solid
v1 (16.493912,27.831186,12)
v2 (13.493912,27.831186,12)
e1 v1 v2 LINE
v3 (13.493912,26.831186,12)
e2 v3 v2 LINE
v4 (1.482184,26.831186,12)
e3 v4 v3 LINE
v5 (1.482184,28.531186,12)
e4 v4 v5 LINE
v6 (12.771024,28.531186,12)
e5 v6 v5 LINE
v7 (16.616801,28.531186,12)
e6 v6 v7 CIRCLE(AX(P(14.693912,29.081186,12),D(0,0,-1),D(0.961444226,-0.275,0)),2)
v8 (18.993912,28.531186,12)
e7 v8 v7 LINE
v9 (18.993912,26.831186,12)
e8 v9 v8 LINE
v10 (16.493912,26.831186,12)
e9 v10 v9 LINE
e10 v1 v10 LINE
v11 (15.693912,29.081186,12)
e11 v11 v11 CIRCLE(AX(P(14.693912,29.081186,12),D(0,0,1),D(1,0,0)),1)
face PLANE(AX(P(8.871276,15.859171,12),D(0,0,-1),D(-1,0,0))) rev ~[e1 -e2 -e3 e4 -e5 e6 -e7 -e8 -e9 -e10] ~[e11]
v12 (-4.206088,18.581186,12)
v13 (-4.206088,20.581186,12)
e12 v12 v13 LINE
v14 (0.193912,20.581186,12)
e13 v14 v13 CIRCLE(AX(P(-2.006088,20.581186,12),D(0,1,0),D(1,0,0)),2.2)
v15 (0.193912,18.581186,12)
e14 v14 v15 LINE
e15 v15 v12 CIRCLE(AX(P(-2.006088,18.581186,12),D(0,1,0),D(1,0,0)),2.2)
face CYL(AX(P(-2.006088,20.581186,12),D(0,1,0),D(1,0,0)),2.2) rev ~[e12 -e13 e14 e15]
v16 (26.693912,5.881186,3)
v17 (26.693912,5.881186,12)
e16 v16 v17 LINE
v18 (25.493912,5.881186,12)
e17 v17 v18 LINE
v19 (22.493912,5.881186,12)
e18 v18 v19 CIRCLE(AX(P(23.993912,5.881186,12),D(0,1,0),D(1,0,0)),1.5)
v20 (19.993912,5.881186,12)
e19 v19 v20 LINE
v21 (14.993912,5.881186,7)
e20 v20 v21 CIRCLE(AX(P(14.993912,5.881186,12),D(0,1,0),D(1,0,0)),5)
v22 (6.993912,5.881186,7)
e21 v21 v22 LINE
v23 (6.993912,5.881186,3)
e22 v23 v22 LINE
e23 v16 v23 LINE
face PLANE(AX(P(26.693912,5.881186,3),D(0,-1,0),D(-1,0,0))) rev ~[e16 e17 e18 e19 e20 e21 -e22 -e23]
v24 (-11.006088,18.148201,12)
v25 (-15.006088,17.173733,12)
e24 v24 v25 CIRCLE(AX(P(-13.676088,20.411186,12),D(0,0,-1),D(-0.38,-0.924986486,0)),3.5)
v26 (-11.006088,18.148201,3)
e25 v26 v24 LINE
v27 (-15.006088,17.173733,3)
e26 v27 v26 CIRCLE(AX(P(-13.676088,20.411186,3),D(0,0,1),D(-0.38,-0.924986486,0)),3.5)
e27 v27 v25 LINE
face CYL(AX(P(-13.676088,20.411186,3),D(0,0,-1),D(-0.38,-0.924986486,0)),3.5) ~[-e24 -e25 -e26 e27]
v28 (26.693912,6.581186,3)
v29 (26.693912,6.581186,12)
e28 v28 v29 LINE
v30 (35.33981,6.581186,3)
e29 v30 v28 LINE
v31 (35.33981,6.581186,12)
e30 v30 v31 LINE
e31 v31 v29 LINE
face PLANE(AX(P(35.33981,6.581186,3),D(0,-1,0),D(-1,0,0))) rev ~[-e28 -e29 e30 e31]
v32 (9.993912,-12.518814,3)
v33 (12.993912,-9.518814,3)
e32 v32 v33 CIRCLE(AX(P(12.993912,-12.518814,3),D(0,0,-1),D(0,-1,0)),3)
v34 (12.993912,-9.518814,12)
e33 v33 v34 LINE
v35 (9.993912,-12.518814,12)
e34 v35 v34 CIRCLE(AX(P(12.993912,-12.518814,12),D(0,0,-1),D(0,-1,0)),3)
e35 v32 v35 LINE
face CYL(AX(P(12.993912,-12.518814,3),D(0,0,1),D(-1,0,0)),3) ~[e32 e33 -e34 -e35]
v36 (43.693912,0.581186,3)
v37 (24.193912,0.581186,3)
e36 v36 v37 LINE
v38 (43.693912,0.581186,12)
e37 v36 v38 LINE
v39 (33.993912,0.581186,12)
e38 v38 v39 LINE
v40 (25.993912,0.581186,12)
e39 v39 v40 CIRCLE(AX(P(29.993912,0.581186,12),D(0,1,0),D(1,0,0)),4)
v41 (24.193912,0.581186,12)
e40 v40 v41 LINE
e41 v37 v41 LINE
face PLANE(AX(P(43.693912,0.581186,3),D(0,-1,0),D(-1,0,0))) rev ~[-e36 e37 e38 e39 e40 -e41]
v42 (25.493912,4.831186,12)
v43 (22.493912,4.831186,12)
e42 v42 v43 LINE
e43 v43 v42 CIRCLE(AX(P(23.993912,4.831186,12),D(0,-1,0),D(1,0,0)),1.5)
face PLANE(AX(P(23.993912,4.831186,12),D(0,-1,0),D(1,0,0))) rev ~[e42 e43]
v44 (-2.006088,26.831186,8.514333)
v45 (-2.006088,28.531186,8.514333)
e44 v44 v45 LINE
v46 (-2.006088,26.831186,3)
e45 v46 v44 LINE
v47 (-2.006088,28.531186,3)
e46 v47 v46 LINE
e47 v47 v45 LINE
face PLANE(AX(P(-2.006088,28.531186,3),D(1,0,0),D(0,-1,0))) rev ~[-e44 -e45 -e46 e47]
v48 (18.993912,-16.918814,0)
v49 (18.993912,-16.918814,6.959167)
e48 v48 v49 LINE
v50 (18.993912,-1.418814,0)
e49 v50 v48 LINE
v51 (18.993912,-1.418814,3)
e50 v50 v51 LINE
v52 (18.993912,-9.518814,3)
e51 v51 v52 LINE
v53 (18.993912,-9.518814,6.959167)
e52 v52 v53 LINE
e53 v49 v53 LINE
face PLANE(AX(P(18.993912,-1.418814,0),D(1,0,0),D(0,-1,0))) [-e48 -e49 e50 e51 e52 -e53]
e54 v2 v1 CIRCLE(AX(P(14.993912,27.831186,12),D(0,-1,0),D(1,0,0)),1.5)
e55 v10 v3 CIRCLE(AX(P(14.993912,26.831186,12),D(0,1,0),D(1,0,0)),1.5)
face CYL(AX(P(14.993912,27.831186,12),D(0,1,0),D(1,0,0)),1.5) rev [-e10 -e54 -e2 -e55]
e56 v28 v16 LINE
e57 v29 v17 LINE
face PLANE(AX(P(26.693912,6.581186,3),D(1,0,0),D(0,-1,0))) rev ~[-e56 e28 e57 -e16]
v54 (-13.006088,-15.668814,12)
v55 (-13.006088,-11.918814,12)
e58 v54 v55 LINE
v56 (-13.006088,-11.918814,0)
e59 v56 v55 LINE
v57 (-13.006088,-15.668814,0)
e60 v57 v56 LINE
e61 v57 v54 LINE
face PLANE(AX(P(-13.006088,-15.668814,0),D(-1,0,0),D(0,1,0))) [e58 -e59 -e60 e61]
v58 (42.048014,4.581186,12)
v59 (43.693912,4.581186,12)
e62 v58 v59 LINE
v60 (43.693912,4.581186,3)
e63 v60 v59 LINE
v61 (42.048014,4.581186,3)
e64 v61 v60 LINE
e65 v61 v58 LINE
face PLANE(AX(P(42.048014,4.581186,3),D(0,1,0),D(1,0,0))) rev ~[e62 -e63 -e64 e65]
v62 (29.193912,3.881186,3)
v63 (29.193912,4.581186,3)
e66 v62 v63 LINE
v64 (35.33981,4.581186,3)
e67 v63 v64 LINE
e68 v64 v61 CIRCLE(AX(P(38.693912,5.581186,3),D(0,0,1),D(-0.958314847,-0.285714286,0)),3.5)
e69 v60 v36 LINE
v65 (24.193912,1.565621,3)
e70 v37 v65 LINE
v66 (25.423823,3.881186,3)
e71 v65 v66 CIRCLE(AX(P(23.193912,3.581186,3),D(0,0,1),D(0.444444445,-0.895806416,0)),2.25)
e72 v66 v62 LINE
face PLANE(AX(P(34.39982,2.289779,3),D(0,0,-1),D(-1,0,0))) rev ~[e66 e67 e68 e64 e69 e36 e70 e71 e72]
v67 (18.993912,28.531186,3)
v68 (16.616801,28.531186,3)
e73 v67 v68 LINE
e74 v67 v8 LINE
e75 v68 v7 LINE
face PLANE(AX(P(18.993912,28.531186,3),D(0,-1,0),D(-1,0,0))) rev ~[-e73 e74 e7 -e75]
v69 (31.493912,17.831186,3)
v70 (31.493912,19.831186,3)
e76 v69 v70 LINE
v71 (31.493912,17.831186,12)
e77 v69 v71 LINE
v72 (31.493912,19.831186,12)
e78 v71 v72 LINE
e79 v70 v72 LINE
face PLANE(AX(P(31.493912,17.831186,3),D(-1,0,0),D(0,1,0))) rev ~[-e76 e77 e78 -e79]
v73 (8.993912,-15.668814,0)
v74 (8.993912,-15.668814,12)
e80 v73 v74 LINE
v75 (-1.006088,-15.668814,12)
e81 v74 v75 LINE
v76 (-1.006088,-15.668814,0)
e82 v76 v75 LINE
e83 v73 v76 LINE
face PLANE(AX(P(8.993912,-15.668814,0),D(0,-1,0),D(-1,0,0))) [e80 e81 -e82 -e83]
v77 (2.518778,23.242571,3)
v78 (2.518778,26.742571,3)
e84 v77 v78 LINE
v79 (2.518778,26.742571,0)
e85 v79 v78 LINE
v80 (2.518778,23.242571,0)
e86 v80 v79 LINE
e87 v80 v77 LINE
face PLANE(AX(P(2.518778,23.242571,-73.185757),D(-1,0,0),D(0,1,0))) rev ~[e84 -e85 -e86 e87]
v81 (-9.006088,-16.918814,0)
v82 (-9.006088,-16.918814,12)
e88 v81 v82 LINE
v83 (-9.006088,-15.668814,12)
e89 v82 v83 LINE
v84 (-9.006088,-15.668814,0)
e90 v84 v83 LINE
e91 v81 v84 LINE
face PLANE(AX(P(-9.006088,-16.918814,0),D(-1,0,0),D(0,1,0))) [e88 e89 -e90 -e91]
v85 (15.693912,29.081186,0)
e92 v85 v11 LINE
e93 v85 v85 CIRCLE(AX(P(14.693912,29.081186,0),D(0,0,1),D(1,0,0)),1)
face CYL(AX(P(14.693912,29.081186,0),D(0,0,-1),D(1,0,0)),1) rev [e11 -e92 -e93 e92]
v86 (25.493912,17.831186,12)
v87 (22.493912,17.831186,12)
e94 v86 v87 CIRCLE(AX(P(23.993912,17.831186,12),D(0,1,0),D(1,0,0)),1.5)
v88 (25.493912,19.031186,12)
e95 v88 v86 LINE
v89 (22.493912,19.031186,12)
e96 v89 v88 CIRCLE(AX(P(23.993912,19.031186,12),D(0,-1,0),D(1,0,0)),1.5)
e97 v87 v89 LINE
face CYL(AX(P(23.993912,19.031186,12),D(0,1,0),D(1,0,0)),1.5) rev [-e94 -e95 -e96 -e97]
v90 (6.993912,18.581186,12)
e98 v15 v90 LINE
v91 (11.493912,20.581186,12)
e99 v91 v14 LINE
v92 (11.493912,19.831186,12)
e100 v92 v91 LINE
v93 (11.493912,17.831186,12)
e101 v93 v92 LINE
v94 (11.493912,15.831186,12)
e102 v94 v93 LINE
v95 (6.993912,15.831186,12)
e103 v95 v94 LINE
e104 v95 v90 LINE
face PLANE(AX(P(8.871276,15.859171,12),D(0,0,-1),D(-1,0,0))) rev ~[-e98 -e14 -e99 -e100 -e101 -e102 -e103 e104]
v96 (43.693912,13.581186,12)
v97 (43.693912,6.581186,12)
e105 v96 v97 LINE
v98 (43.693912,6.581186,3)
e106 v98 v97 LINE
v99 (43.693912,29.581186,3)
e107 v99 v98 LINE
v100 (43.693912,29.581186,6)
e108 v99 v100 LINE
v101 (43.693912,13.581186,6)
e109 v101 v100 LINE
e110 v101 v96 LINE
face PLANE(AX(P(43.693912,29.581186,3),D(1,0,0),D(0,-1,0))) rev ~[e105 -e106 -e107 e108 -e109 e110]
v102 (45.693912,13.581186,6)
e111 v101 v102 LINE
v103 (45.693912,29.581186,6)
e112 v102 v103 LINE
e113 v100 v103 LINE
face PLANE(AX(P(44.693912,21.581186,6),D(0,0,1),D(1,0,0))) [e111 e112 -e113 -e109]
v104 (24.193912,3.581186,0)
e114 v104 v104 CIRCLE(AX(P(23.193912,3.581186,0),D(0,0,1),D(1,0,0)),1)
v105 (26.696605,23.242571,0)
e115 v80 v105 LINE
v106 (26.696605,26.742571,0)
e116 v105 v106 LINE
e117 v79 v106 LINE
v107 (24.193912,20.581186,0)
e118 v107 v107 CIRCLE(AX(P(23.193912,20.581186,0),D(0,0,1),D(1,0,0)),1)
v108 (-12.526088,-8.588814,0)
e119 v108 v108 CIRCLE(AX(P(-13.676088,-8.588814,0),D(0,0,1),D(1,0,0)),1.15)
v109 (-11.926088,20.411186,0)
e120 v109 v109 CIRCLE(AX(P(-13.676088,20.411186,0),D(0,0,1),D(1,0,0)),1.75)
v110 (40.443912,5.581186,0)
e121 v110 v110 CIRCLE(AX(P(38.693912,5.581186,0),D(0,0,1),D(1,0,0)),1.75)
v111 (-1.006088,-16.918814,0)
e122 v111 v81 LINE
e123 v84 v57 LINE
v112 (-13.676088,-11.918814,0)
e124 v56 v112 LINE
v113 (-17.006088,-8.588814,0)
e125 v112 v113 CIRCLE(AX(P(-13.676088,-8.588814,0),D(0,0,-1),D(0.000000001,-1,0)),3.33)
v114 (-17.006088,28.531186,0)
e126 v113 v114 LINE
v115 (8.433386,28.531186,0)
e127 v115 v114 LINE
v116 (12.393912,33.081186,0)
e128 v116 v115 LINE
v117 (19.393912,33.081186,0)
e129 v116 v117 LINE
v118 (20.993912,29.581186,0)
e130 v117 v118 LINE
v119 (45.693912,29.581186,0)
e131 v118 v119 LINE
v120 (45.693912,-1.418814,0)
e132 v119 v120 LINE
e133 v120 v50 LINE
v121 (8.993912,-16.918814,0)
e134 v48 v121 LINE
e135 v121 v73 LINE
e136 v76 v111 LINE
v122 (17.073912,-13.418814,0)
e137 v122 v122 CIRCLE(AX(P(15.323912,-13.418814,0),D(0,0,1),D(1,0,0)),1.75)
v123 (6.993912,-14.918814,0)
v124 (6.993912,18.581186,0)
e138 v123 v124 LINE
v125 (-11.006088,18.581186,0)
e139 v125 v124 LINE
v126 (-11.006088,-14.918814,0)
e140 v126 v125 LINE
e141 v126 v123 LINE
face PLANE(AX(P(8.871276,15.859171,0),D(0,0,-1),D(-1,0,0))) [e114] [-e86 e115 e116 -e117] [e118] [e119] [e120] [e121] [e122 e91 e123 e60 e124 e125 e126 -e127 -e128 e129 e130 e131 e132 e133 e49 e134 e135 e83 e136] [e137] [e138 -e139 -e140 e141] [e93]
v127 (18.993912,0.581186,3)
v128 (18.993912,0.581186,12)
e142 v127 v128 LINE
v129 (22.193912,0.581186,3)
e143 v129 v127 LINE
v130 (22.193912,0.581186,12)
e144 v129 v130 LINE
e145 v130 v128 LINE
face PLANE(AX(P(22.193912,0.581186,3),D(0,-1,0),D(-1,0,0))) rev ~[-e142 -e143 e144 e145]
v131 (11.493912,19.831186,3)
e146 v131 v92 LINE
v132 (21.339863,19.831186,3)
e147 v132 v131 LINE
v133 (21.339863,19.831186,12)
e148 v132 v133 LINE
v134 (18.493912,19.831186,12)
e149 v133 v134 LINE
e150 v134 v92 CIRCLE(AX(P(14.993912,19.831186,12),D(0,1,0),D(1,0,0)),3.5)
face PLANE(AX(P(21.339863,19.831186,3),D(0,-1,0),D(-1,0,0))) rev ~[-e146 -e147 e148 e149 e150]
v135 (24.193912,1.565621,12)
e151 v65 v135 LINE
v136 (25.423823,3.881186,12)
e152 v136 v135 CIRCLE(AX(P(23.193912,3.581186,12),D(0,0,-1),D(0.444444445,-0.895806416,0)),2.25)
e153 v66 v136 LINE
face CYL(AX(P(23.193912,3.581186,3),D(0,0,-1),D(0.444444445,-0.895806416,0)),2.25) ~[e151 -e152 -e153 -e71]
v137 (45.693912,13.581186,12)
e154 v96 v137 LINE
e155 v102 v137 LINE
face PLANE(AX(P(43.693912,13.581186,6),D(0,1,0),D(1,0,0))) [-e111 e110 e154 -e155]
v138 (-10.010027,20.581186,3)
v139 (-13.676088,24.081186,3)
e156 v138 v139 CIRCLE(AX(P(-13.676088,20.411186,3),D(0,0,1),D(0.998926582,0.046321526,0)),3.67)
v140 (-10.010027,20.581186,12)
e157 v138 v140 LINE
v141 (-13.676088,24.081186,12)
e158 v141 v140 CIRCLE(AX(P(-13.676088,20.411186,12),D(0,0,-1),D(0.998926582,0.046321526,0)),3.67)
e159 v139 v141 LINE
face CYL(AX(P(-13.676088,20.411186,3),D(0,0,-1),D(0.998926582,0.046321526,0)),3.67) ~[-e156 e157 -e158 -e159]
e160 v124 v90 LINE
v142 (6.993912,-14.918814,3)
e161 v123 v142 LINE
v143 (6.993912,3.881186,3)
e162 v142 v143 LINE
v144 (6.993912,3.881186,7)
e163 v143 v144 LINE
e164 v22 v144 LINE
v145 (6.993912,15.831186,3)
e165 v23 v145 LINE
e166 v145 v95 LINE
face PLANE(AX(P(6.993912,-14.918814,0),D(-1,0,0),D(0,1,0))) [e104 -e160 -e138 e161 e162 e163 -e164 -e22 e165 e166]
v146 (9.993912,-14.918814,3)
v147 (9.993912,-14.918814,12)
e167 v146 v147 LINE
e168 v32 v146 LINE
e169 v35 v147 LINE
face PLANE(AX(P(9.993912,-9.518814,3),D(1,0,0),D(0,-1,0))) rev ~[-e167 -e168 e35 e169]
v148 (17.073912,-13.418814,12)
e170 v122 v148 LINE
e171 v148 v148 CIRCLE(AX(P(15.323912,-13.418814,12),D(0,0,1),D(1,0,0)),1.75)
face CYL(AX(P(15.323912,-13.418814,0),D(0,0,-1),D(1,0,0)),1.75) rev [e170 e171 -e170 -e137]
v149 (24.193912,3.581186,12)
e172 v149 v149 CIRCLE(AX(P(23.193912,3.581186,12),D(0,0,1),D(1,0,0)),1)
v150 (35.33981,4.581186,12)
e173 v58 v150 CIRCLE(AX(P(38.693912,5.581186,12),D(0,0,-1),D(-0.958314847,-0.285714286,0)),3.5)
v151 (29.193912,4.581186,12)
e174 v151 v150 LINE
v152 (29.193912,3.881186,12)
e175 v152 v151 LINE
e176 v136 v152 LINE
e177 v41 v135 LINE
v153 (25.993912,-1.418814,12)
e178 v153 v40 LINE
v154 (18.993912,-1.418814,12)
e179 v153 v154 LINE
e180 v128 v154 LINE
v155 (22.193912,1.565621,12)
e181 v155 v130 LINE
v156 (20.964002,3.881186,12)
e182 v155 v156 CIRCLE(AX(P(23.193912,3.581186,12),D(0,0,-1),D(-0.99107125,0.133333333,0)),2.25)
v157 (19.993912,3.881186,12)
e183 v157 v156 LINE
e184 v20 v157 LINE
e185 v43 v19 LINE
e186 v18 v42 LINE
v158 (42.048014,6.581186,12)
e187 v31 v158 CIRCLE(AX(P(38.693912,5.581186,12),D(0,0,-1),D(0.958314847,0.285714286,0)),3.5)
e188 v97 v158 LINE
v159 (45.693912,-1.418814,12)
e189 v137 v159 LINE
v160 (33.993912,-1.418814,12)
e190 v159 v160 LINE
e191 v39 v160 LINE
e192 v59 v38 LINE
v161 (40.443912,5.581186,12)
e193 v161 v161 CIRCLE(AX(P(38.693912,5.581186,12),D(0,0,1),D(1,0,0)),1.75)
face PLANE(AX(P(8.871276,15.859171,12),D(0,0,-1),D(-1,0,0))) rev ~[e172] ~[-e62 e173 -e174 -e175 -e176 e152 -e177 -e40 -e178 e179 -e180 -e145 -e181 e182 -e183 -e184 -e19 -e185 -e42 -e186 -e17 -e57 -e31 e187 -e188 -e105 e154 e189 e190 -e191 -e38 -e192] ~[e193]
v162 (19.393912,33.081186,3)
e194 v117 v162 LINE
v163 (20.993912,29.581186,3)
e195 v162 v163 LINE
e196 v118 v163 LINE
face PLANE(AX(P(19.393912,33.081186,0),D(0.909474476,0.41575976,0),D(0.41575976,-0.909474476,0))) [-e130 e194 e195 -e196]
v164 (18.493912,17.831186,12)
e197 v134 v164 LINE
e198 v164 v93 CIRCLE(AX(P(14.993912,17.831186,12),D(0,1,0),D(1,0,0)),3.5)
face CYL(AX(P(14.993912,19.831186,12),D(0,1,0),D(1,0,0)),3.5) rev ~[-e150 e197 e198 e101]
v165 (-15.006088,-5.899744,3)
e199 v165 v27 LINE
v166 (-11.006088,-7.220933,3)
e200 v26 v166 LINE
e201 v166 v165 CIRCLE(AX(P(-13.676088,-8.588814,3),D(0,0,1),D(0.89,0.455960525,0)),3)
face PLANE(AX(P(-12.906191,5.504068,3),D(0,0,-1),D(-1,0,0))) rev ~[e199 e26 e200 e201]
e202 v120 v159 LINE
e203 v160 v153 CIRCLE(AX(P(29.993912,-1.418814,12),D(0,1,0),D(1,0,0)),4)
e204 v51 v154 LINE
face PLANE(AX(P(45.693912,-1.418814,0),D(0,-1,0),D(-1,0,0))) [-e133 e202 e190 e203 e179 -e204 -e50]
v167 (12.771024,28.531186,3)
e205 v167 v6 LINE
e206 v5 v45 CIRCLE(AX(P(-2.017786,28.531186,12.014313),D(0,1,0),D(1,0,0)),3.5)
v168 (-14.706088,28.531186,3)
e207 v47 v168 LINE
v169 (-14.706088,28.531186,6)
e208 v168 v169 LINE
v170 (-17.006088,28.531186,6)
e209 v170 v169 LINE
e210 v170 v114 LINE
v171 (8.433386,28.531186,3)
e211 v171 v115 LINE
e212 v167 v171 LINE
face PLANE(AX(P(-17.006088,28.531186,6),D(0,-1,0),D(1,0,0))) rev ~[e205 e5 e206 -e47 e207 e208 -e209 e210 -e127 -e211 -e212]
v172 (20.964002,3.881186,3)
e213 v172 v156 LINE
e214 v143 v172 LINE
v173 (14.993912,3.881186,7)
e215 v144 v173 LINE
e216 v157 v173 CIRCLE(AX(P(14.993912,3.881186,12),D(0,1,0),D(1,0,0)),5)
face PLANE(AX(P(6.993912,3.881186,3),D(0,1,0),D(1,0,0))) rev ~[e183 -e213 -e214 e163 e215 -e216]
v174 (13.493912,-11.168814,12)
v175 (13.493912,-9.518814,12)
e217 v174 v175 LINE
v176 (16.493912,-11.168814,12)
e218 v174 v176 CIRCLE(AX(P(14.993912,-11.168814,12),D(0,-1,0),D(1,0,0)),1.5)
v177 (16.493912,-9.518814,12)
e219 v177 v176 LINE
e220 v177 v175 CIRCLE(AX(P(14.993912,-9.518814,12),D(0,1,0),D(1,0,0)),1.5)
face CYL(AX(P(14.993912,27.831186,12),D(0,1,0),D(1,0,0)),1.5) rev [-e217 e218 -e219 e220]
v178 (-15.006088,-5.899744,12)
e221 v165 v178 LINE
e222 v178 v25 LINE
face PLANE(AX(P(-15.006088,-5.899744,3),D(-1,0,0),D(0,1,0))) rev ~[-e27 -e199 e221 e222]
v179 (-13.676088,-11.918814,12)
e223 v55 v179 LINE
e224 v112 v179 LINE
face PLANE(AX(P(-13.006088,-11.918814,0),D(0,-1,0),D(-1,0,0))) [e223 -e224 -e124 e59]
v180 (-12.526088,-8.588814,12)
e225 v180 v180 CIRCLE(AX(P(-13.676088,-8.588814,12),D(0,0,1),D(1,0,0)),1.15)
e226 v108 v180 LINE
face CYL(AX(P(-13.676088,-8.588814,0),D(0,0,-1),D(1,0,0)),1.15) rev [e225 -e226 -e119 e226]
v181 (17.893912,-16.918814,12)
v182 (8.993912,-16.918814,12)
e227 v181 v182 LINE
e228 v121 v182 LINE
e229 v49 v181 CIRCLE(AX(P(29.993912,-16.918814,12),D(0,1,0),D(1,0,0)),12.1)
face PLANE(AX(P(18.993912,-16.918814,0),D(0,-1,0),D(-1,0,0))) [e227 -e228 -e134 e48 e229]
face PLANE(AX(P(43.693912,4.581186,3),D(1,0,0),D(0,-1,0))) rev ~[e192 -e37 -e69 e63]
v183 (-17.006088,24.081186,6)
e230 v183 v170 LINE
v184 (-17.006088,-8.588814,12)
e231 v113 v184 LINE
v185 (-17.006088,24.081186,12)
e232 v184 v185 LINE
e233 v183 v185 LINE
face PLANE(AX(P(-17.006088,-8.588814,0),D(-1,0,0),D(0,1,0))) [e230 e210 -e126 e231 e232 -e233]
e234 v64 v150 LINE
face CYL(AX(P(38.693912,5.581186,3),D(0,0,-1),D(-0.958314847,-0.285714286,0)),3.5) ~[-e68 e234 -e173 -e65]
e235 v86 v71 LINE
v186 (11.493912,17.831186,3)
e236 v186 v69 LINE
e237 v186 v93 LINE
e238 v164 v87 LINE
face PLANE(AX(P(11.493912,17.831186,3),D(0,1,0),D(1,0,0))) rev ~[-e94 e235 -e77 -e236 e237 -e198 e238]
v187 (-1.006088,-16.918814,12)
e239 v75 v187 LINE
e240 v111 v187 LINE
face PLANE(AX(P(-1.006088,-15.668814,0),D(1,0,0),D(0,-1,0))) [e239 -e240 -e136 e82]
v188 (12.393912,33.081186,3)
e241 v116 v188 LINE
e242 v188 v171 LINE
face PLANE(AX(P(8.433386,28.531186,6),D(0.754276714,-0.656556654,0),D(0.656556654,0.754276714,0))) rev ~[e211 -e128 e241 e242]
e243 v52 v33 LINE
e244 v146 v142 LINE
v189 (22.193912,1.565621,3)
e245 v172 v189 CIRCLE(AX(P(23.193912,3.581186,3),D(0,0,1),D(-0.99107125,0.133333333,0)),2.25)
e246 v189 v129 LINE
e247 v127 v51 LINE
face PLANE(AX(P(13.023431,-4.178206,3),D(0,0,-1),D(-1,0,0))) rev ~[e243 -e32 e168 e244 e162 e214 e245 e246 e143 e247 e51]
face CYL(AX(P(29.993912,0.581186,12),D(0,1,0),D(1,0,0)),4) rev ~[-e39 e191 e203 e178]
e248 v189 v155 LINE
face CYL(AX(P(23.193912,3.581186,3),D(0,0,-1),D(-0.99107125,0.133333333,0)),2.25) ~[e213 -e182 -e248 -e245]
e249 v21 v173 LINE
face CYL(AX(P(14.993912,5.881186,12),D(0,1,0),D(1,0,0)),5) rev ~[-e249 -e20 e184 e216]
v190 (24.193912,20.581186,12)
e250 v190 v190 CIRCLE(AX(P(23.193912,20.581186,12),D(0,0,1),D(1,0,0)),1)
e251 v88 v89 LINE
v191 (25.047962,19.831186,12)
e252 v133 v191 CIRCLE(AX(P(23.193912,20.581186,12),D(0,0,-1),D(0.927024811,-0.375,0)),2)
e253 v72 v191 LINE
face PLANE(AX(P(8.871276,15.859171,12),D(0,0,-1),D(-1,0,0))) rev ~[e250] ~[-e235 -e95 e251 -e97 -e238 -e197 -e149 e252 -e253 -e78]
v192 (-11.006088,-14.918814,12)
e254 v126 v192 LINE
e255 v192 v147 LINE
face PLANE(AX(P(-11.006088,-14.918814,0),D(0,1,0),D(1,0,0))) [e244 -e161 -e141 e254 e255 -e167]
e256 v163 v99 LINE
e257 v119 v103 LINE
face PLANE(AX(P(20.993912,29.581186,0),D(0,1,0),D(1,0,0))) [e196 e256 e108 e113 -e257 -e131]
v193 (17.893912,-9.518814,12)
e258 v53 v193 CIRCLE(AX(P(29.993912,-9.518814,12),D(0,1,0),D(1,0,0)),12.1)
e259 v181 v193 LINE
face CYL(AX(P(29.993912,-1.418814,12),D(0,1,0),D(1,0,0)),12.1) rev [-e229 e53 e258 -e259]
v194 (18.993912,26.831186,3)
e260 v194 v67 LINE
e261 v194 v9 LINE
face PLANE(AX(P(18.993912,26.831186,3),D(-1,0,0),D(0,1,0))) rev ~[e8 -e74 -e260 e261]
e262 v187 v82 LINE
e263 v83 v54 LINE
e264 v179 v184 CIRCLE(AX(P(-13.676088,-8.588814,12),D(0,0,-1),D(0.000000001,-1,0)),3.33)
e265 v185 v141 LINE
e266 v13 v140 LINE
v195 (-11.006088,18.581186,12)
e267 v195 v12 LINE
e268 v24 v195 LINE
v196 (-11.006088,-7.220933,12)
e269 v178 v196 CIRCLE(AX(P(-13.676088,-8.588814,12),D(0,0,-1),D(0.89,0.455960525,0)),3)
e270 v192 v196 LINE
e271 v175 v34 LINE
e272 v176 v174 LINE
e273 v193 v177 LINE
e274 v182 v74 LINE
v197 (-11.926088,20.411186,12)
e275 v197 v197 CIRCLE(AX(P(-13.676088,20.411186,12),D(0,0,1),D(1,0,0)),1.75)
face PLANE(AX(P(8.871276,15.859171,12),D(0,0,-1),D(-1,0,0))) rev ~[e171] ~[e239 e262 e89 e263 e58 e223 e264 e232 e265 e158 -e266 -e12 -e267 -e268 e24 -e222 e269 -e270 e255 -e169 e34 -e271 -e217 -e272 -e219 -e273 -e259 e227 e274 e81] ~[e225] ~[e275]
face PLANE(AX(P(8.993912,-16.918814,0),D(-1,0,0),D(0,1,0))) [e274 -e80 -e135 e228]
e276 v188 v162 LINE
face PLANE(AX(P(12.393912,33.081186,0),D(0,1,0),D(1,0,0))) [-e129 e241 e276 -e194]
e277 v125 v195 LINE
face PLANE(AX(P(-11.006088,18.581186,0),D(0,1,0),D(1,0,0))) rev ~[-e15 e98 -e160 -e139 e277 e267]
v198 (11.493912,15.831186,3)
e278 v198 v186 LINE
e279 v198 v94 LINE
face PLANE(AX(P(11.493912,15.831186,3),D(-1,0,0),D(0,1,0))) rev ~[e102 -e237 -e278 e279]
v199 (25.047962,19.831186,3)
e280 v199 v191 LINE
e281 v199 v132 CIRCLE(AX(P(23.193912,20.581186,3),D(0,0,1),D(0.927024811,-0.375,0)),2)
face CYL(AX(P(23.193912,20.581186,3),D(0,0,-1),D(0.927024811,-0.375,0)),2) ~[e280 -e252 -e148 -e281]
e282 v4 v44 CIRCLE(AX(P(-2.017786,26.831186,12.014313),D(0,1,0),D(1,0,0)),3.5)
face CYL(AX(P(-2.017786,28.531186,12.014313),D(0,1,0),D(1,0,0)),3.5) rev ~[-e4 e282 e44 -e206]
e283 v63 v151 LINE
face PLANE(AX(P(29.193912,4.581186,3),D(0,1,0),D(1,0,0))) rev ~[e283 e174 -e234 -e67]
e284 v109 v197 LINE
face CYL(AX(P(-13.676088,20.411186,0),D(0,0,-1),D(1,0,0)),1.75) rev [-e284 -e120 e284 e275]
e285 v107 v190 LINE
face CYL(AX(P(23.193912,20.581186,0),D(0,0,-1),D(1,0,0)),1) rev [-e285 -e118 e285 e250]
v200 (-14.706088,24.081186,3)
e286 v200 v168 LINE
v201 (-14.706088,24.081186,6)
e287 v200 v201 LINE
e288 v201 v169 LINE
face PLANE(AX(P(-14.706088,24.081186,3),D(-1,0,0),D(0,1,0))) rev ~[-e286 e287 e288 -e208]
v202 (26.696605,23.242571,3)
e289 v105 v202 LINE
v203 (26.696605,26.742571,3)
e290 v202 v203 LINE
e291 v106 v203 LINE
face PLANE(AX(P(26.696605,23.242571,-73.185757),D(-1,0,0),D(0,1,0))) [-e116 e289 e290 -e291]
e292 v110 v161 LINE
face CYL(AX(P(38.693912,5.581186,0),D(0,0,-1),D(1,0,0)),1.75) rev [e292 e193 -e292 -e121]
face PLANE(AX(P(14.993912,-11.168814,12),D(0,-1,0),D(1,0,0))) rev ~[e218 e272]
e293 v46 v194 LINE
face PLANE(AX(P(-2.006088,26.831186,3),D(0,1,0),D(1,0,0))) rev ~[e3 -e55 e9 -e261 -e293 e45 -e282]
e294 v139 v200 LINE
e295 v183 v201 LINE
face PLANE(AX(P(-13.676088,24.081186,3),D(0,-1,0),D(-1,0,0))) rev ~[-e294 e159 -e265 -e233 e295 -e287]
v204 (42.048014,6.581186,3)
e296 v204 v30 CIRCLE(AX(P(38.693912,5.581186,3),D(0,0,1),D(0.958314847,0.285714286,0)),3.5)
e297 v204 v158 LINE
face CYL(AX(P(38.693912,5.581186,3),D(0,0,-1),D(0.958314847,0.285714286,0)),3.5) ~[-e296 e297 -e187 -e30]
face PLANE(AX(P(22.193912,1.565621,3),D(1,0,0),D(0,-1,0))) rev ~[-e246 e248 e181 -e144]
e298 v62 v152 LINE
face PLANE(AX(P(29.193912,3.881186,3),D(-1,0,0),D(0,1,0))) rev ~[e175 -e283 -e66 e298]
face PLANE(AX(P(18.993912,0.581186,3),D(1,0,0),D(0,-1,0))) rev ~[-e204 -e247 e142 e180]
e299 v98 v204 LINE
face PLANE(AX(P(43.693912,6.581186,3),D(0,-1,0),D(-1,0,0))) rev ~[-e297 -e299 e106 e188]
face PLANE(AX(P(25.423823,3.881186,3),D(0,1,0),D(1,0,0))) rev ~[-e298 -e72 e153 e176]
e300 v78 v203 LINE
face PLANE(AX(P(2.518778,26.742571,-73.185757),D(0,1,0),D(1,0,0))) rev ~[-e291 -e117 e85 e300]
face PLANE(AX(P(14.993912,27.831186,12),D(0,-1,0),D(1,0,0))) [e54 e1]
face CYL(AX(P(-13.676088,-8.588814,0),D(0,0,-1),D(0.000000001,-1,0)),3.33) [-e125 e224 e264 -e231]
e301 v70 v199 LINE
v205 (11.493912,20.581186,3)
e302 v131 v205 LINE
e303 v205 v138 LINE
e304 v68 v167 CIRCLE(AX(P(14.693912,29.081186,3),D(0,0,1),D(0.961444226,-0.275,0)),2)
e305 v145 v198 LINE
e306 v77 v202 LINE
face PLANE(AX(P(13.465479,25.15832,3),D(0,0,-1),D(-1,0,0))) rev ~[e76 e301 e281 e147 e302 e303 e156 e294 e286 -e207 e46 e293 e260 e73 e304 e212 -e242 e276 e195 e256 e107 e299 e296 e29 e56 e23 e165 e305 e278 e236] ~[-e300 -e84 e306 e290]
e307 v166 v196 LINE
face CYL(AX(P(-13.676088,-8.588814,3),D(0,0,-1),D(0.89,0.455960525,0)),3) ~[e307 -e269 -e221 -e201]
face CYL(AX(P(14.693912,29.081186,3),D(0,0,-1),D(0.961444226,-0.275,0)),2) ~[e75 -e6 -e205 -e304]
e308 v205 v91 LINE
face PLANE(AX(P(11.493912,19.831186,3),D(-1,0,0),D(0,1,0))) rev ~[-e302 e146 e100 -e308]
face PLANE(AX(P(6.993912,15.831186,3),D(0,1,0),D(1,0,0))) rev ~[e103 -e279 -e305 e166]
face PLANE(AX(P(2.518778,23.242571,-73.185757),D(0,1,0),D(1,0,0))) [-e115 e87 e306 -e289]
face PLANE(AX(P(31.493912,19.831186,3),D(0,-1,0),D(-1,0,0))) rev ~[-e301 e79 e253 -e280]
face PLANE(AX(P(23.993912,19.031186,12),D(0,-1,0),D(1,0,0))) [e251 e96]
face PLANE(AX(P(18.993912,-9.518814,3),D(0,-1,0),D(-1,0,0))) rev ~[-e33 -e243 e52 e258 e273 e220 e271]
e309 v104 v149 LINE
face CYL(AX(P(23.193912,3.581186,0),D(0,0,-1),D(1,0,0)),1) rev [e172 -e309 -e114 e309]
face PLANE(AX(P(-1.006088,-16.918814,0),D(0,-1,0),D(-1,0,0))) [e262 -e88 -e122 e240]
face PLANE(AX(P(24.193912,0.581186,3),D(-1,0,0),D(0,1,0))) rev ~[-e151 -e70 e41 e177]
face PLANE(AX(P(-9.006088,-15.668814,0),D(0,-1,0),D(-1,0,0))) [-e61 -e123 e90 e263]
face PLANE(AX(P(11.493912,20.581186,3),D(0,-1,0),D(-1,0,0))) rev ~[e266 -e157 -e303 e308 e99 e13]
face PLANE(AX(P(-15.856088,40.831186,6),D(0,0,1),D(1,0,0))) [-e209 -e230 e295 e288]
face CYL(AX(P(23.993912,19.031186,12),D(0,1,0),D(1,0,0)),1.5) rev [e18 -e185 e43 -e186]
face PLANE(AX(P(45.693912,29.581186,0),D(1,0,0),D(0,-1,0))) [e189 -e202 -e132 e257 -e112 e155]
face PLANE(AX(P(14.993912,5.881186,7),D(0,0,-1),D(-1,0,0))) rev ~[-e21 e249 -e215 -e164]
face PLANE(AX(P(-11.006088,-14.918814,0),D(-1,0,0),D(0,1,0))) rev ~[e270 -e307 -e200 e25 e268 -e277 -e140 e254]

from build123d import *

# Parameters (mm, degrees)
ESQUISSE1_R                   = 1.15
ESQUISSE1_R_2                 = 1.75
ESQUISSE1_R_3                 = 1
ESQUISSE1_W                   = 18
ESQUISSE1_H                   = 33.5
BOSS_EXTRU_2_DEPTH            = 12
ENL_V_MAT_EXTRU_1_DEPTH       = 75.057589753
ESQUISSE3_W                   = 2.3
ESQUISSE3_H                   = 33.5
ESQUISSE3_W_2                 = 2
ESQUISSE3_H_2                 = 16
ENL_V_MAT_EXTRU_2_DEPTH       = 74.753146373
CONG_1_R                      = 3
ENL_V_MAT_EXTRU_3_REACH       = 62.317
ESQUISSE4_R                   = 2.2
ENL_V_MAT_EXTRU_4_REACH       = 67.556
ESQUISSE5_R                   = 3.5
ESQUISSE6_R                   = 3.5
ENL_V_MAT_EXTRU_5_DEPTH       = 5
ESQUISSE7_W                   = 8.040923999
ESQUISSE7_H                   = 1.8
ENL_V_MAT_EXTRU_6_DEPTH       = 1
ENL_V_MAT_EXTRU_7_DEPTH       = 3
ENL_V_MAT_EXTRU_7_DEPTH_BACK  = 75.185757393
ESQUISSE8_W                   = 24.177827552
ESQUISSE8_H                   = 3.5
ENL_V_MAT_EXTRU_8_REACH       = 72.034
ENL_V_MAT_EXTRU_9_REACH       = 76.033
ESQUISSE10_R                  = 4
ESQUISSE11_R                  = 12.099999999
ENL_V_MAT_EXTRU_10_DEPTH      = 76.583950893
ENL_V_MAT_EXTRU_11_DEPTH      = 38
ENL_V_MAT_EXTRU_11_DEPTH_BACK = 1
ESQUISSE17_R                  = 1.5
ENL_V_MAT_EXTRU_12_DEPTH      = 13
ENL_V_MAT_EXTRU_12_DEPTH_BACK = 1.2
ESQUISSE18_R                  = 1.5
ENL_V_MAT_EXTRU_13_DEPTH      = 10


with BuildPart() as part:
    # Esquisse1 → Boss.-Extru.2 (new body)
    with BuildSketch(Plane.XY):
        with BuildLine():
            Line((-12.306087575, 57.58118588), (-12.306087575, 54.58118588))
            Line((-12.306087575, 54.58118588), (12.393912425, 33.08118588))
            Line((12.393912425, 33.08118588), (19.393912425, 33.08118588))
            Line((19.393912425, 33.08118588), (20.993912425, 29.58118588))
            Line((20.993912425, 29.58118588), (45.693912425, 29.58118588))
            Line((45.693912425, 29.58118588), (45.693912425, -1.41881412))
            Line((45.693912425, -1.41881412), (18.993912425, -1.41881412))
            Line((18.993912425, -1.41881412), (18.993912425, -16.91881412))
            Line((18.993912425, -16.91881412), (8.993912425, -16.91881412))
            Line((8.993912425, -16.91881412), (8.993912425, -15.66881412))
            Line((8.993912425, -15.66881412), (-1.006087575, -15.66881412))
            Line((-1.006087575, -15.66881412), (-1.006087575, -16.91881412))
            Line((-1.006087575, -16.91881412), (-9.006087575, -16.91881412))
            Line((-9.006087575, -16.91881412), (-9.006087575, -15.66881412))
            Line((-9.006087575, -15.66881412), (-13.006087575, -15.66881412))
            Line((-13.006087575, -15.66881412), (-13.006087575, -11.91881412))
            Line((-13.006087575, -11.91881412), (-13.676087575, -11.91881412))
            ThreePointArc((-13.676087575, -11.91881412), (-16.030753157, -10.943479702), (-17.006087575, -8.58881412))
            Line((-17.006087575, -8.58881412), (-17.006087575, 57.58118588))
            Line((-17.006087575, 57.58118588), (-12.306087575, 57.58118588))
        make_face()
        with Locations((-13.676087575, -8.58881412)):
            Circle(ESQUISSE1_R, mode=Mode.SUBTRACT)
        with Locations((-13.676087575, 20.41118588)):
            Circle(ESQUISSE1_R_2, mode=Mode.SUBTRACT)
        with Locations((15.323912425, -13.41881412)):
            Circle(ESQUISSE1_R_2, mode=Mode.SUBTRACT)
        with Locations((38.693912425, 5.58118588)):
            Circle(ESQUISSE1_R_2, mode=Mode.SUBTRACT)
        with Locations((23.193912425, 3.58118588)):
            Circle(ESQUISSE1_R_3, mode=Mode.SUBTRACT)
        with Locations((23.193912425, 20.58118588)):
            Circle(ESQUISSE1_R_3, mode=Mode.SUBTRACT)
        with Locations((14.693912425, 29.08118588)):
            Circle(ESQUISSE1_R_3, mode=Mode.SUBTRACT)
        with Locations((-2.006087575, 1.83118588)):
            Rectangle(ESQUISSE1_W, ESQUISSE1_H, mode=Mode.SUBTRACT)
    extrude(amount=BOSS_EXTRU_2_DEPTH)

    # Esquisse2 → Enlèv. mat.-Extru.1 (cut, through all)
    # profile 1 of 4: a face of its own
    with BuildSketch(Plane.XY.offset(3)):
        with BuildLine():
            ThreePointArc((25.047962046, 19.83118588), (23.193912425, 22.58118588), (21.339862803, 19.83118588))
            Line((21.339862803, 19.83118588), (11.493912425, 19.83118588))
            Line((11.493912425, 19.83118588), (11.493912425, 20.58118588))
            Line((11.493912425, 20.58118588), (-10.010027019, 20.58118588))
            ThreePointArc((-10.010027019, 20.58118588), (-11.141822396, 23.065691483), (-13.676087575, 24.08118588))
            Line((-13.676087575, 24.08118588), (-14.706087575, 24.08118588))
            Line((-14.706087575, 24.08118588), (-14.706087575, 57.58118588))
            Line((-14.706087575, 57.58118588), (-12.306087575, 57.58118588))
            Line((-12.306087575, 57.58118588), (-12.306087575, 54.58118588))
            Line((-12.306087575, 54.58118588), (12.393912425, 33.08118588))
            Line((12.393912425, 33.08118588), (19.393912425, 33.08118588))
            Line((19.393912425, 33.08118588), (20.993912425, 29.58118588))
            Line((20.993912425, 29.58118588), (43.693912425, 29.58118588))
            Line((43.693912425, 29.58118588), (43.693912425, 6.58118588))
            Line((43.693912425, 6.58118588), (42.048014391, 6.58118588))
            ThreePointArc((42.048014391, 6.58118588), (38.693912425, 9.08118588), (35.339810458, 6.58118588))
            Line((35.339810458, 6.58118588), (26.693912425, 6.58118588))
            Line((26.693912425, 6.58118588), (26.693912425, 5.88118588))
            Line((26.693912425, 5.88118588), (6.993912425, 5.88118588))
            Line((6.993912425, 5.88118588), (6.993912425, 15.83118588))
            Line((6.993912425, 15.83118588), (11.493912425, 15.83118588))
            Line((11.493912425, 15.83118588), (11.493912425, 17.83118588))
            Line((11.493912425, 17.83118588), (31.493912425, 17.83118588))
            Line((31.493912425, 17.83118588), (31.493912425, 19.83118588))
            Line((31.493912425, 19.83118588), (25.047962046, 19.83118588))
        make_face()
        with BuildLine():
            ThreePointArc((16.616800877, 28.53118588), (14.693912425, 31.08118588), (12.771023972, 28.53118588))
            Line((12.771023972, 28.53118588), (-2.006087575, 28.53118588))
            Line((-2.006087575, 28.53118588), (-2.006087575, 26.83118588))
            Line((-2.006087575, 26.83118588), (18.993912425, 26.83118588))
            Line((18.993912425, 26.83118588), (18.993912425, 28.53118588))
            Line((18.993912425, 28.53118588), (16.616800877, 28.53118588))
        make_face(mode=Mode.SUBTRACT)
    # profile 2 of 4: a face of its own
    with BuildSketch(Plane.XY.offset(3)):
        with BuildLine():
            ThreePointArc((20.964002112, 3.88118588), (21.206819115, 2.52574276), (22.193912425, 1.565621443))
            Line((22.193912425, 1.565621443), (22.193912425, 0.58118588))
            Line((22.193912425, 0.58118588), (18.993912425, 0.58118588))
            Line((18.993912425, 0.58118588), (18.993912425, -9.51881412))
            Line((18.993912425, -9.51881412), (9.993912425, -9.51881412))
            Line((9.993912425, -9.51881412), (9.993912425, -14.91881412))
            Line((9.993912425, -14.91881412), (6.993912425, -14.91881412))
            Line((6.993912425, -14.91881412), (6.993912425, 3.88118588))
            Line((6.993912425, 3.88118588), (20.964002112, 3.88118588))
        make_face()
    # profile 3 of 4: a face of its own
    with BuildSketch(Plane.XY.offset(3)):
        with BuildLine():
            ThreePointArc((-15.006087575, 17.173733177), (-12.847657165, 17.010641356), (-11.006087575, 18.148201125))
            Line((-11.006087575, 18.148201125), (-11.006087575, -7.220932547))
            ThreePointArc((-11.006087575, -7.220932547), (-12.735191712, -5.740180242), (-15.006087575, -5.899743649))
            Line((-15.006087575, -5.899743649), (-15.006087575, 17.173733177))
        make_face()
    # profile 4 of 4: a face of its own
    with BuildSketch(Plane.XY.offset(3)):
        with BuildLine():
            ThreePointArc((24.193912425, 1.565621443), (25.181005734, 2.52574276), (25.423822737, 3.88118588))
            Line((25.423822737, 3.88118588), (29.193912425, 3.88118588))
            Line((29.193912425, 3.88118588), (29.193912425, 4.58118588))
            Line((29.193912425, 4.58118588), (35.339810458, 4.58118588))
            ThreePointArc((35.339810458, 4.58118588), (38.693912425, 2.08118588), (42.048014391, 4.58118588))
            Line((42.048014391, 4.58118588), (43.693912425, 4.58118588))
            Line((43.693912425, 4.58118588), (43.693912425, 0.58118588))
            Line((43.693912425, 0.58118588), (24.193912425, 0.58118588))
            Line((24.193912425, 0.58118588), (24.193912425, 1.565621443))
        make_face()
    extrude(amount=ENL_V_MAT_EXTRU_1_DEPTH, mode=Mode.SUBTRACT)

    # Esquisse3 → Enlèv. mat.-Extru.2 (cut, through all)
    with BuildSketch(Plane.XY.offset(6)):
        with Locations((-15.856087575, 40.83118588)):
            Rectangle(ESQUISSE3_W, ESQUISSE3_H)
        with Locations((44.693912425, 21.58118588)):
            Rectangle(ESQUISSE3_W_2, ESQUISSE3_H_2)
    extrude(amount=ENL_V_MAT_EXTRU_2_DEPTH, mode=Mode.SUBTRACT)

    # Congé1
    cong_1_edges = [part.edges().sort_by_distance(p)[0] for p in [
        (9.993912425, -9.51881412, 7.5),
    ]]
    fillet(cong_1_edges, radius=CONG_1_R)

    # Esquisse4 → Enlèv. mat.-Extru.3 (cut, up to next)
    with BuildSketch(Plane(origin=(0, 20.58118588, 0), x_dir=(1, 0, 0), z_dir=(0, 1, 0)), mode=Mode.PRIVATE) as enl_v_mat_extru_3_sk1:
        with Locations((-2.006087575, -12)):
            Circle(ESQUISSE4_R)
    enl_v_mat_extru_3_tool1 = extrude(enl_v_mat_extru_3_sk1.sketch, amount=-ENL_V_MAT_EXTRU_3_REACH, mode=Mode.PRIVATE) & part.part
    add(enl_v_mat_extru_3_tool1.solids().sort_by_distance((-2.006088, 20.581186, 12))[0], mode=Mode.SUBTRACT)

    # Esquisse5 → Enlèv. mat.-Extru.4 (cut, up to next)
    with BuildSketch(Plane(origin=(0, 28.53118588, 0), x_dir=(1, 0, 0), z_dir=(0, 1, 0)), mode=Mode.PRIVATE) as enl_v_mat_extru_4_sk1:
        with Locations((-2.017786304, -12.014313461)):
            Circle(ESQUISSE5_R)
    enl_v_mat_extru_4_tool1 = extrude(enl_v_mat_extru_4_sk1.sketch, amount=-ENL_V_MAT_EXTRU_4_REACH, mode=Mode.PRIVATE) & part.part
    add(enl_v_mat_extru_4_tool1.solids().sort_by_distance((-2.017786, 28.531186, 12.014313))[0], mode=Mode.SUBTRACT)

    # Esquisse6 → Enlèv. mat.-Extru.5 (cut)
    with BuildSketch(Plane(origin=(0, 19.83118588, 0), x_dir=(1, 0, 0), z_dir=(0, 1, 0))):
        with Locations((14.993912425, -12)):
            Circle(ESQUISSE6_R)
    extrude(amount=-ENL_V_MAT_EXTRU_5_DEPTH, mode=Mode.SUBTRACT)

    # Esquisse7 → Enlèv. mat.-Extru.6 (cut)
    with BuildSketch(Plane.XY.offset(3)):
        with Locations((2.077482888, 31.18118588)):
            Rectangle(ESQUISSE7_W, ESQUISSE7_H)
    extrude(amount=-ENL_V_MAT_EXTRU_6_DEPTH, mode=Mode.SUBTRACT)

    # Esquisse8 → Enlèv. mat.-Extru.7 (cut, two sides: drawn at the far end of the back side and taken through both)
    with BuildSketch(Plane.XY.offset(2).offset(-ENL_V_MAT_EXTRU_7_DEPTH_BACK)):
        with Locations((14.607691418, 24.992571009)):
            Rectangle(ESQUISSE8_W, ESQUISSE8_H)
    extrude(amount=ENL_V_MAT_EXTRU_7_DEPTH + ENL_V_MAT_EXTRU_7_DEPTH_BACK, mode=Mode.SUBTRACT)

    # Esquisse9 → Enlèv. mat.-Extru.8 (cut, up to next)
    with BuildSketch(Plane(origin=(0, 5.88118588, 0), x_dir=(1, 0, 0), z_dir=(0, 1, 0)), mode=Mode.PRIVATE) as enl_v_mat_extru_8_sk1:
        with BuildLine():
            Line((14.993912425, -7), (6.993912425, -7))
            Line((6.993912425, -7), (6.993912425, -12))
            Line((6.993912425, -12), (19.993912425, -12))
            ThreePointArc((19.993912425, -12), (18.529446331, -8.464466094), (14.993912425, -7))
        make_face()
    enl_v_mat_extru_8_tool1 = extrude(enl_v_mat_extru_8_sk1.sketch, amount=-ENL_V_MAT_EXTRU_8_REACH, mode=Mode.PRIVATE) & part.part
    add(enl_v_mat_extru_8_tool1.solids().sort_by_distance((13.009618, 5.881186, 9.624436))[0], mode=Mode.SUBTRACT)

    # Esquisse10 → Enlèv. mat.-Extru.9 (cut, up to next)
    with BuildSketch(Plane(origin=(0, 0.58118588, 0), x_dir=(1, 0, 0), z_dir=(0, 1, 0)), mode=Mode.PRIVATE) as enl_v_mat_extru_9_sk1:
        with Locations((29.993912425, -12)):
            Circle(ESQUISSE10_R)
    enl_v_mat_extru_9_tool1 = extrude(enl_v_mat_extru_9_sk1.sketch, amount=-ENL_V_MAT_EXTRU_9_REACH, mode=Mode.PRIVATE) & part.part
    add(enl_v_mat_extru_9_tool1.solids().sort_by_distance((29.993912, 0.581186, 12))[0], mode=Mode.SUBTRACT)

    # Esquisse11 → Enlèv. mat.-Extru.10 (cut, through all)
    with BuildSketch(Plane.XZ.offset(1.41881412)):
        with Locations((29.993912425, 12)):
            Circle(ESQUISSE11_R)
    extrude(amount=ENL_V_MAT_EXTRU_10_DEPTH, mode=Mode.SUBTRACT)

    # Esquisse17 → Enlèv. mat.-Extru.11 (cut, two sides: drawn at the far end of the back side and taken through both)
    with BuildSketch(Plane.XZ.offset(-26.83118588).offset(-ENL_V_MAT_EXTRU_11_DEPTH_BACK)):
        with Locations((14.993912425, 12)):
            Circle(ESQUISSE17_R)
    extrude(amount=ENL_V_MAT_EXTRU_11_DEPTH + ENL_V_MAT_EXTRU_11_DEPTH_BACK, mode=Mode.SUBTRACT)

    # Esquisse18 → Enlèv. mat.-Extru.12 (cut, two sides: drawn at the far end of the back side and taken through both)
    with BuildSketch(Plane.XZ.offset(-17.83118588).offset(-ENL_V_MAT_EXTRU_12_DEPTH_BACK)):
        with Locations((23.993912425, 12)):
            Circle(ESQUISSE18_R)
    extrude(amount=ENL_V_MAT_EXTRU_12_DEPTH + ENL_V_MAT_EXTRU_12_DEPTH_BACK, mode=Mode.SUBTRACT)

    # Esquisse19 → Enlèv. mat.-Extru.13 (cut)
    with BuildSketch(Plane.XY.offset(6)):
        Polygon((12.393912425, 33.08118588), (-12.306087575, 54.58118588), (-12.306087575, 57.58118588), (-14.706087575, 57.58118588), (-17.006087575, 57.58118588), (-17.006087575, 28.53118588), (8.433386109, 28.53118588), align=None)
    extrude(amount=-ENL_V_MAT_EXTRU_13_DEPTH, mode=Mode.SUBTRACT)


solid = part.part
